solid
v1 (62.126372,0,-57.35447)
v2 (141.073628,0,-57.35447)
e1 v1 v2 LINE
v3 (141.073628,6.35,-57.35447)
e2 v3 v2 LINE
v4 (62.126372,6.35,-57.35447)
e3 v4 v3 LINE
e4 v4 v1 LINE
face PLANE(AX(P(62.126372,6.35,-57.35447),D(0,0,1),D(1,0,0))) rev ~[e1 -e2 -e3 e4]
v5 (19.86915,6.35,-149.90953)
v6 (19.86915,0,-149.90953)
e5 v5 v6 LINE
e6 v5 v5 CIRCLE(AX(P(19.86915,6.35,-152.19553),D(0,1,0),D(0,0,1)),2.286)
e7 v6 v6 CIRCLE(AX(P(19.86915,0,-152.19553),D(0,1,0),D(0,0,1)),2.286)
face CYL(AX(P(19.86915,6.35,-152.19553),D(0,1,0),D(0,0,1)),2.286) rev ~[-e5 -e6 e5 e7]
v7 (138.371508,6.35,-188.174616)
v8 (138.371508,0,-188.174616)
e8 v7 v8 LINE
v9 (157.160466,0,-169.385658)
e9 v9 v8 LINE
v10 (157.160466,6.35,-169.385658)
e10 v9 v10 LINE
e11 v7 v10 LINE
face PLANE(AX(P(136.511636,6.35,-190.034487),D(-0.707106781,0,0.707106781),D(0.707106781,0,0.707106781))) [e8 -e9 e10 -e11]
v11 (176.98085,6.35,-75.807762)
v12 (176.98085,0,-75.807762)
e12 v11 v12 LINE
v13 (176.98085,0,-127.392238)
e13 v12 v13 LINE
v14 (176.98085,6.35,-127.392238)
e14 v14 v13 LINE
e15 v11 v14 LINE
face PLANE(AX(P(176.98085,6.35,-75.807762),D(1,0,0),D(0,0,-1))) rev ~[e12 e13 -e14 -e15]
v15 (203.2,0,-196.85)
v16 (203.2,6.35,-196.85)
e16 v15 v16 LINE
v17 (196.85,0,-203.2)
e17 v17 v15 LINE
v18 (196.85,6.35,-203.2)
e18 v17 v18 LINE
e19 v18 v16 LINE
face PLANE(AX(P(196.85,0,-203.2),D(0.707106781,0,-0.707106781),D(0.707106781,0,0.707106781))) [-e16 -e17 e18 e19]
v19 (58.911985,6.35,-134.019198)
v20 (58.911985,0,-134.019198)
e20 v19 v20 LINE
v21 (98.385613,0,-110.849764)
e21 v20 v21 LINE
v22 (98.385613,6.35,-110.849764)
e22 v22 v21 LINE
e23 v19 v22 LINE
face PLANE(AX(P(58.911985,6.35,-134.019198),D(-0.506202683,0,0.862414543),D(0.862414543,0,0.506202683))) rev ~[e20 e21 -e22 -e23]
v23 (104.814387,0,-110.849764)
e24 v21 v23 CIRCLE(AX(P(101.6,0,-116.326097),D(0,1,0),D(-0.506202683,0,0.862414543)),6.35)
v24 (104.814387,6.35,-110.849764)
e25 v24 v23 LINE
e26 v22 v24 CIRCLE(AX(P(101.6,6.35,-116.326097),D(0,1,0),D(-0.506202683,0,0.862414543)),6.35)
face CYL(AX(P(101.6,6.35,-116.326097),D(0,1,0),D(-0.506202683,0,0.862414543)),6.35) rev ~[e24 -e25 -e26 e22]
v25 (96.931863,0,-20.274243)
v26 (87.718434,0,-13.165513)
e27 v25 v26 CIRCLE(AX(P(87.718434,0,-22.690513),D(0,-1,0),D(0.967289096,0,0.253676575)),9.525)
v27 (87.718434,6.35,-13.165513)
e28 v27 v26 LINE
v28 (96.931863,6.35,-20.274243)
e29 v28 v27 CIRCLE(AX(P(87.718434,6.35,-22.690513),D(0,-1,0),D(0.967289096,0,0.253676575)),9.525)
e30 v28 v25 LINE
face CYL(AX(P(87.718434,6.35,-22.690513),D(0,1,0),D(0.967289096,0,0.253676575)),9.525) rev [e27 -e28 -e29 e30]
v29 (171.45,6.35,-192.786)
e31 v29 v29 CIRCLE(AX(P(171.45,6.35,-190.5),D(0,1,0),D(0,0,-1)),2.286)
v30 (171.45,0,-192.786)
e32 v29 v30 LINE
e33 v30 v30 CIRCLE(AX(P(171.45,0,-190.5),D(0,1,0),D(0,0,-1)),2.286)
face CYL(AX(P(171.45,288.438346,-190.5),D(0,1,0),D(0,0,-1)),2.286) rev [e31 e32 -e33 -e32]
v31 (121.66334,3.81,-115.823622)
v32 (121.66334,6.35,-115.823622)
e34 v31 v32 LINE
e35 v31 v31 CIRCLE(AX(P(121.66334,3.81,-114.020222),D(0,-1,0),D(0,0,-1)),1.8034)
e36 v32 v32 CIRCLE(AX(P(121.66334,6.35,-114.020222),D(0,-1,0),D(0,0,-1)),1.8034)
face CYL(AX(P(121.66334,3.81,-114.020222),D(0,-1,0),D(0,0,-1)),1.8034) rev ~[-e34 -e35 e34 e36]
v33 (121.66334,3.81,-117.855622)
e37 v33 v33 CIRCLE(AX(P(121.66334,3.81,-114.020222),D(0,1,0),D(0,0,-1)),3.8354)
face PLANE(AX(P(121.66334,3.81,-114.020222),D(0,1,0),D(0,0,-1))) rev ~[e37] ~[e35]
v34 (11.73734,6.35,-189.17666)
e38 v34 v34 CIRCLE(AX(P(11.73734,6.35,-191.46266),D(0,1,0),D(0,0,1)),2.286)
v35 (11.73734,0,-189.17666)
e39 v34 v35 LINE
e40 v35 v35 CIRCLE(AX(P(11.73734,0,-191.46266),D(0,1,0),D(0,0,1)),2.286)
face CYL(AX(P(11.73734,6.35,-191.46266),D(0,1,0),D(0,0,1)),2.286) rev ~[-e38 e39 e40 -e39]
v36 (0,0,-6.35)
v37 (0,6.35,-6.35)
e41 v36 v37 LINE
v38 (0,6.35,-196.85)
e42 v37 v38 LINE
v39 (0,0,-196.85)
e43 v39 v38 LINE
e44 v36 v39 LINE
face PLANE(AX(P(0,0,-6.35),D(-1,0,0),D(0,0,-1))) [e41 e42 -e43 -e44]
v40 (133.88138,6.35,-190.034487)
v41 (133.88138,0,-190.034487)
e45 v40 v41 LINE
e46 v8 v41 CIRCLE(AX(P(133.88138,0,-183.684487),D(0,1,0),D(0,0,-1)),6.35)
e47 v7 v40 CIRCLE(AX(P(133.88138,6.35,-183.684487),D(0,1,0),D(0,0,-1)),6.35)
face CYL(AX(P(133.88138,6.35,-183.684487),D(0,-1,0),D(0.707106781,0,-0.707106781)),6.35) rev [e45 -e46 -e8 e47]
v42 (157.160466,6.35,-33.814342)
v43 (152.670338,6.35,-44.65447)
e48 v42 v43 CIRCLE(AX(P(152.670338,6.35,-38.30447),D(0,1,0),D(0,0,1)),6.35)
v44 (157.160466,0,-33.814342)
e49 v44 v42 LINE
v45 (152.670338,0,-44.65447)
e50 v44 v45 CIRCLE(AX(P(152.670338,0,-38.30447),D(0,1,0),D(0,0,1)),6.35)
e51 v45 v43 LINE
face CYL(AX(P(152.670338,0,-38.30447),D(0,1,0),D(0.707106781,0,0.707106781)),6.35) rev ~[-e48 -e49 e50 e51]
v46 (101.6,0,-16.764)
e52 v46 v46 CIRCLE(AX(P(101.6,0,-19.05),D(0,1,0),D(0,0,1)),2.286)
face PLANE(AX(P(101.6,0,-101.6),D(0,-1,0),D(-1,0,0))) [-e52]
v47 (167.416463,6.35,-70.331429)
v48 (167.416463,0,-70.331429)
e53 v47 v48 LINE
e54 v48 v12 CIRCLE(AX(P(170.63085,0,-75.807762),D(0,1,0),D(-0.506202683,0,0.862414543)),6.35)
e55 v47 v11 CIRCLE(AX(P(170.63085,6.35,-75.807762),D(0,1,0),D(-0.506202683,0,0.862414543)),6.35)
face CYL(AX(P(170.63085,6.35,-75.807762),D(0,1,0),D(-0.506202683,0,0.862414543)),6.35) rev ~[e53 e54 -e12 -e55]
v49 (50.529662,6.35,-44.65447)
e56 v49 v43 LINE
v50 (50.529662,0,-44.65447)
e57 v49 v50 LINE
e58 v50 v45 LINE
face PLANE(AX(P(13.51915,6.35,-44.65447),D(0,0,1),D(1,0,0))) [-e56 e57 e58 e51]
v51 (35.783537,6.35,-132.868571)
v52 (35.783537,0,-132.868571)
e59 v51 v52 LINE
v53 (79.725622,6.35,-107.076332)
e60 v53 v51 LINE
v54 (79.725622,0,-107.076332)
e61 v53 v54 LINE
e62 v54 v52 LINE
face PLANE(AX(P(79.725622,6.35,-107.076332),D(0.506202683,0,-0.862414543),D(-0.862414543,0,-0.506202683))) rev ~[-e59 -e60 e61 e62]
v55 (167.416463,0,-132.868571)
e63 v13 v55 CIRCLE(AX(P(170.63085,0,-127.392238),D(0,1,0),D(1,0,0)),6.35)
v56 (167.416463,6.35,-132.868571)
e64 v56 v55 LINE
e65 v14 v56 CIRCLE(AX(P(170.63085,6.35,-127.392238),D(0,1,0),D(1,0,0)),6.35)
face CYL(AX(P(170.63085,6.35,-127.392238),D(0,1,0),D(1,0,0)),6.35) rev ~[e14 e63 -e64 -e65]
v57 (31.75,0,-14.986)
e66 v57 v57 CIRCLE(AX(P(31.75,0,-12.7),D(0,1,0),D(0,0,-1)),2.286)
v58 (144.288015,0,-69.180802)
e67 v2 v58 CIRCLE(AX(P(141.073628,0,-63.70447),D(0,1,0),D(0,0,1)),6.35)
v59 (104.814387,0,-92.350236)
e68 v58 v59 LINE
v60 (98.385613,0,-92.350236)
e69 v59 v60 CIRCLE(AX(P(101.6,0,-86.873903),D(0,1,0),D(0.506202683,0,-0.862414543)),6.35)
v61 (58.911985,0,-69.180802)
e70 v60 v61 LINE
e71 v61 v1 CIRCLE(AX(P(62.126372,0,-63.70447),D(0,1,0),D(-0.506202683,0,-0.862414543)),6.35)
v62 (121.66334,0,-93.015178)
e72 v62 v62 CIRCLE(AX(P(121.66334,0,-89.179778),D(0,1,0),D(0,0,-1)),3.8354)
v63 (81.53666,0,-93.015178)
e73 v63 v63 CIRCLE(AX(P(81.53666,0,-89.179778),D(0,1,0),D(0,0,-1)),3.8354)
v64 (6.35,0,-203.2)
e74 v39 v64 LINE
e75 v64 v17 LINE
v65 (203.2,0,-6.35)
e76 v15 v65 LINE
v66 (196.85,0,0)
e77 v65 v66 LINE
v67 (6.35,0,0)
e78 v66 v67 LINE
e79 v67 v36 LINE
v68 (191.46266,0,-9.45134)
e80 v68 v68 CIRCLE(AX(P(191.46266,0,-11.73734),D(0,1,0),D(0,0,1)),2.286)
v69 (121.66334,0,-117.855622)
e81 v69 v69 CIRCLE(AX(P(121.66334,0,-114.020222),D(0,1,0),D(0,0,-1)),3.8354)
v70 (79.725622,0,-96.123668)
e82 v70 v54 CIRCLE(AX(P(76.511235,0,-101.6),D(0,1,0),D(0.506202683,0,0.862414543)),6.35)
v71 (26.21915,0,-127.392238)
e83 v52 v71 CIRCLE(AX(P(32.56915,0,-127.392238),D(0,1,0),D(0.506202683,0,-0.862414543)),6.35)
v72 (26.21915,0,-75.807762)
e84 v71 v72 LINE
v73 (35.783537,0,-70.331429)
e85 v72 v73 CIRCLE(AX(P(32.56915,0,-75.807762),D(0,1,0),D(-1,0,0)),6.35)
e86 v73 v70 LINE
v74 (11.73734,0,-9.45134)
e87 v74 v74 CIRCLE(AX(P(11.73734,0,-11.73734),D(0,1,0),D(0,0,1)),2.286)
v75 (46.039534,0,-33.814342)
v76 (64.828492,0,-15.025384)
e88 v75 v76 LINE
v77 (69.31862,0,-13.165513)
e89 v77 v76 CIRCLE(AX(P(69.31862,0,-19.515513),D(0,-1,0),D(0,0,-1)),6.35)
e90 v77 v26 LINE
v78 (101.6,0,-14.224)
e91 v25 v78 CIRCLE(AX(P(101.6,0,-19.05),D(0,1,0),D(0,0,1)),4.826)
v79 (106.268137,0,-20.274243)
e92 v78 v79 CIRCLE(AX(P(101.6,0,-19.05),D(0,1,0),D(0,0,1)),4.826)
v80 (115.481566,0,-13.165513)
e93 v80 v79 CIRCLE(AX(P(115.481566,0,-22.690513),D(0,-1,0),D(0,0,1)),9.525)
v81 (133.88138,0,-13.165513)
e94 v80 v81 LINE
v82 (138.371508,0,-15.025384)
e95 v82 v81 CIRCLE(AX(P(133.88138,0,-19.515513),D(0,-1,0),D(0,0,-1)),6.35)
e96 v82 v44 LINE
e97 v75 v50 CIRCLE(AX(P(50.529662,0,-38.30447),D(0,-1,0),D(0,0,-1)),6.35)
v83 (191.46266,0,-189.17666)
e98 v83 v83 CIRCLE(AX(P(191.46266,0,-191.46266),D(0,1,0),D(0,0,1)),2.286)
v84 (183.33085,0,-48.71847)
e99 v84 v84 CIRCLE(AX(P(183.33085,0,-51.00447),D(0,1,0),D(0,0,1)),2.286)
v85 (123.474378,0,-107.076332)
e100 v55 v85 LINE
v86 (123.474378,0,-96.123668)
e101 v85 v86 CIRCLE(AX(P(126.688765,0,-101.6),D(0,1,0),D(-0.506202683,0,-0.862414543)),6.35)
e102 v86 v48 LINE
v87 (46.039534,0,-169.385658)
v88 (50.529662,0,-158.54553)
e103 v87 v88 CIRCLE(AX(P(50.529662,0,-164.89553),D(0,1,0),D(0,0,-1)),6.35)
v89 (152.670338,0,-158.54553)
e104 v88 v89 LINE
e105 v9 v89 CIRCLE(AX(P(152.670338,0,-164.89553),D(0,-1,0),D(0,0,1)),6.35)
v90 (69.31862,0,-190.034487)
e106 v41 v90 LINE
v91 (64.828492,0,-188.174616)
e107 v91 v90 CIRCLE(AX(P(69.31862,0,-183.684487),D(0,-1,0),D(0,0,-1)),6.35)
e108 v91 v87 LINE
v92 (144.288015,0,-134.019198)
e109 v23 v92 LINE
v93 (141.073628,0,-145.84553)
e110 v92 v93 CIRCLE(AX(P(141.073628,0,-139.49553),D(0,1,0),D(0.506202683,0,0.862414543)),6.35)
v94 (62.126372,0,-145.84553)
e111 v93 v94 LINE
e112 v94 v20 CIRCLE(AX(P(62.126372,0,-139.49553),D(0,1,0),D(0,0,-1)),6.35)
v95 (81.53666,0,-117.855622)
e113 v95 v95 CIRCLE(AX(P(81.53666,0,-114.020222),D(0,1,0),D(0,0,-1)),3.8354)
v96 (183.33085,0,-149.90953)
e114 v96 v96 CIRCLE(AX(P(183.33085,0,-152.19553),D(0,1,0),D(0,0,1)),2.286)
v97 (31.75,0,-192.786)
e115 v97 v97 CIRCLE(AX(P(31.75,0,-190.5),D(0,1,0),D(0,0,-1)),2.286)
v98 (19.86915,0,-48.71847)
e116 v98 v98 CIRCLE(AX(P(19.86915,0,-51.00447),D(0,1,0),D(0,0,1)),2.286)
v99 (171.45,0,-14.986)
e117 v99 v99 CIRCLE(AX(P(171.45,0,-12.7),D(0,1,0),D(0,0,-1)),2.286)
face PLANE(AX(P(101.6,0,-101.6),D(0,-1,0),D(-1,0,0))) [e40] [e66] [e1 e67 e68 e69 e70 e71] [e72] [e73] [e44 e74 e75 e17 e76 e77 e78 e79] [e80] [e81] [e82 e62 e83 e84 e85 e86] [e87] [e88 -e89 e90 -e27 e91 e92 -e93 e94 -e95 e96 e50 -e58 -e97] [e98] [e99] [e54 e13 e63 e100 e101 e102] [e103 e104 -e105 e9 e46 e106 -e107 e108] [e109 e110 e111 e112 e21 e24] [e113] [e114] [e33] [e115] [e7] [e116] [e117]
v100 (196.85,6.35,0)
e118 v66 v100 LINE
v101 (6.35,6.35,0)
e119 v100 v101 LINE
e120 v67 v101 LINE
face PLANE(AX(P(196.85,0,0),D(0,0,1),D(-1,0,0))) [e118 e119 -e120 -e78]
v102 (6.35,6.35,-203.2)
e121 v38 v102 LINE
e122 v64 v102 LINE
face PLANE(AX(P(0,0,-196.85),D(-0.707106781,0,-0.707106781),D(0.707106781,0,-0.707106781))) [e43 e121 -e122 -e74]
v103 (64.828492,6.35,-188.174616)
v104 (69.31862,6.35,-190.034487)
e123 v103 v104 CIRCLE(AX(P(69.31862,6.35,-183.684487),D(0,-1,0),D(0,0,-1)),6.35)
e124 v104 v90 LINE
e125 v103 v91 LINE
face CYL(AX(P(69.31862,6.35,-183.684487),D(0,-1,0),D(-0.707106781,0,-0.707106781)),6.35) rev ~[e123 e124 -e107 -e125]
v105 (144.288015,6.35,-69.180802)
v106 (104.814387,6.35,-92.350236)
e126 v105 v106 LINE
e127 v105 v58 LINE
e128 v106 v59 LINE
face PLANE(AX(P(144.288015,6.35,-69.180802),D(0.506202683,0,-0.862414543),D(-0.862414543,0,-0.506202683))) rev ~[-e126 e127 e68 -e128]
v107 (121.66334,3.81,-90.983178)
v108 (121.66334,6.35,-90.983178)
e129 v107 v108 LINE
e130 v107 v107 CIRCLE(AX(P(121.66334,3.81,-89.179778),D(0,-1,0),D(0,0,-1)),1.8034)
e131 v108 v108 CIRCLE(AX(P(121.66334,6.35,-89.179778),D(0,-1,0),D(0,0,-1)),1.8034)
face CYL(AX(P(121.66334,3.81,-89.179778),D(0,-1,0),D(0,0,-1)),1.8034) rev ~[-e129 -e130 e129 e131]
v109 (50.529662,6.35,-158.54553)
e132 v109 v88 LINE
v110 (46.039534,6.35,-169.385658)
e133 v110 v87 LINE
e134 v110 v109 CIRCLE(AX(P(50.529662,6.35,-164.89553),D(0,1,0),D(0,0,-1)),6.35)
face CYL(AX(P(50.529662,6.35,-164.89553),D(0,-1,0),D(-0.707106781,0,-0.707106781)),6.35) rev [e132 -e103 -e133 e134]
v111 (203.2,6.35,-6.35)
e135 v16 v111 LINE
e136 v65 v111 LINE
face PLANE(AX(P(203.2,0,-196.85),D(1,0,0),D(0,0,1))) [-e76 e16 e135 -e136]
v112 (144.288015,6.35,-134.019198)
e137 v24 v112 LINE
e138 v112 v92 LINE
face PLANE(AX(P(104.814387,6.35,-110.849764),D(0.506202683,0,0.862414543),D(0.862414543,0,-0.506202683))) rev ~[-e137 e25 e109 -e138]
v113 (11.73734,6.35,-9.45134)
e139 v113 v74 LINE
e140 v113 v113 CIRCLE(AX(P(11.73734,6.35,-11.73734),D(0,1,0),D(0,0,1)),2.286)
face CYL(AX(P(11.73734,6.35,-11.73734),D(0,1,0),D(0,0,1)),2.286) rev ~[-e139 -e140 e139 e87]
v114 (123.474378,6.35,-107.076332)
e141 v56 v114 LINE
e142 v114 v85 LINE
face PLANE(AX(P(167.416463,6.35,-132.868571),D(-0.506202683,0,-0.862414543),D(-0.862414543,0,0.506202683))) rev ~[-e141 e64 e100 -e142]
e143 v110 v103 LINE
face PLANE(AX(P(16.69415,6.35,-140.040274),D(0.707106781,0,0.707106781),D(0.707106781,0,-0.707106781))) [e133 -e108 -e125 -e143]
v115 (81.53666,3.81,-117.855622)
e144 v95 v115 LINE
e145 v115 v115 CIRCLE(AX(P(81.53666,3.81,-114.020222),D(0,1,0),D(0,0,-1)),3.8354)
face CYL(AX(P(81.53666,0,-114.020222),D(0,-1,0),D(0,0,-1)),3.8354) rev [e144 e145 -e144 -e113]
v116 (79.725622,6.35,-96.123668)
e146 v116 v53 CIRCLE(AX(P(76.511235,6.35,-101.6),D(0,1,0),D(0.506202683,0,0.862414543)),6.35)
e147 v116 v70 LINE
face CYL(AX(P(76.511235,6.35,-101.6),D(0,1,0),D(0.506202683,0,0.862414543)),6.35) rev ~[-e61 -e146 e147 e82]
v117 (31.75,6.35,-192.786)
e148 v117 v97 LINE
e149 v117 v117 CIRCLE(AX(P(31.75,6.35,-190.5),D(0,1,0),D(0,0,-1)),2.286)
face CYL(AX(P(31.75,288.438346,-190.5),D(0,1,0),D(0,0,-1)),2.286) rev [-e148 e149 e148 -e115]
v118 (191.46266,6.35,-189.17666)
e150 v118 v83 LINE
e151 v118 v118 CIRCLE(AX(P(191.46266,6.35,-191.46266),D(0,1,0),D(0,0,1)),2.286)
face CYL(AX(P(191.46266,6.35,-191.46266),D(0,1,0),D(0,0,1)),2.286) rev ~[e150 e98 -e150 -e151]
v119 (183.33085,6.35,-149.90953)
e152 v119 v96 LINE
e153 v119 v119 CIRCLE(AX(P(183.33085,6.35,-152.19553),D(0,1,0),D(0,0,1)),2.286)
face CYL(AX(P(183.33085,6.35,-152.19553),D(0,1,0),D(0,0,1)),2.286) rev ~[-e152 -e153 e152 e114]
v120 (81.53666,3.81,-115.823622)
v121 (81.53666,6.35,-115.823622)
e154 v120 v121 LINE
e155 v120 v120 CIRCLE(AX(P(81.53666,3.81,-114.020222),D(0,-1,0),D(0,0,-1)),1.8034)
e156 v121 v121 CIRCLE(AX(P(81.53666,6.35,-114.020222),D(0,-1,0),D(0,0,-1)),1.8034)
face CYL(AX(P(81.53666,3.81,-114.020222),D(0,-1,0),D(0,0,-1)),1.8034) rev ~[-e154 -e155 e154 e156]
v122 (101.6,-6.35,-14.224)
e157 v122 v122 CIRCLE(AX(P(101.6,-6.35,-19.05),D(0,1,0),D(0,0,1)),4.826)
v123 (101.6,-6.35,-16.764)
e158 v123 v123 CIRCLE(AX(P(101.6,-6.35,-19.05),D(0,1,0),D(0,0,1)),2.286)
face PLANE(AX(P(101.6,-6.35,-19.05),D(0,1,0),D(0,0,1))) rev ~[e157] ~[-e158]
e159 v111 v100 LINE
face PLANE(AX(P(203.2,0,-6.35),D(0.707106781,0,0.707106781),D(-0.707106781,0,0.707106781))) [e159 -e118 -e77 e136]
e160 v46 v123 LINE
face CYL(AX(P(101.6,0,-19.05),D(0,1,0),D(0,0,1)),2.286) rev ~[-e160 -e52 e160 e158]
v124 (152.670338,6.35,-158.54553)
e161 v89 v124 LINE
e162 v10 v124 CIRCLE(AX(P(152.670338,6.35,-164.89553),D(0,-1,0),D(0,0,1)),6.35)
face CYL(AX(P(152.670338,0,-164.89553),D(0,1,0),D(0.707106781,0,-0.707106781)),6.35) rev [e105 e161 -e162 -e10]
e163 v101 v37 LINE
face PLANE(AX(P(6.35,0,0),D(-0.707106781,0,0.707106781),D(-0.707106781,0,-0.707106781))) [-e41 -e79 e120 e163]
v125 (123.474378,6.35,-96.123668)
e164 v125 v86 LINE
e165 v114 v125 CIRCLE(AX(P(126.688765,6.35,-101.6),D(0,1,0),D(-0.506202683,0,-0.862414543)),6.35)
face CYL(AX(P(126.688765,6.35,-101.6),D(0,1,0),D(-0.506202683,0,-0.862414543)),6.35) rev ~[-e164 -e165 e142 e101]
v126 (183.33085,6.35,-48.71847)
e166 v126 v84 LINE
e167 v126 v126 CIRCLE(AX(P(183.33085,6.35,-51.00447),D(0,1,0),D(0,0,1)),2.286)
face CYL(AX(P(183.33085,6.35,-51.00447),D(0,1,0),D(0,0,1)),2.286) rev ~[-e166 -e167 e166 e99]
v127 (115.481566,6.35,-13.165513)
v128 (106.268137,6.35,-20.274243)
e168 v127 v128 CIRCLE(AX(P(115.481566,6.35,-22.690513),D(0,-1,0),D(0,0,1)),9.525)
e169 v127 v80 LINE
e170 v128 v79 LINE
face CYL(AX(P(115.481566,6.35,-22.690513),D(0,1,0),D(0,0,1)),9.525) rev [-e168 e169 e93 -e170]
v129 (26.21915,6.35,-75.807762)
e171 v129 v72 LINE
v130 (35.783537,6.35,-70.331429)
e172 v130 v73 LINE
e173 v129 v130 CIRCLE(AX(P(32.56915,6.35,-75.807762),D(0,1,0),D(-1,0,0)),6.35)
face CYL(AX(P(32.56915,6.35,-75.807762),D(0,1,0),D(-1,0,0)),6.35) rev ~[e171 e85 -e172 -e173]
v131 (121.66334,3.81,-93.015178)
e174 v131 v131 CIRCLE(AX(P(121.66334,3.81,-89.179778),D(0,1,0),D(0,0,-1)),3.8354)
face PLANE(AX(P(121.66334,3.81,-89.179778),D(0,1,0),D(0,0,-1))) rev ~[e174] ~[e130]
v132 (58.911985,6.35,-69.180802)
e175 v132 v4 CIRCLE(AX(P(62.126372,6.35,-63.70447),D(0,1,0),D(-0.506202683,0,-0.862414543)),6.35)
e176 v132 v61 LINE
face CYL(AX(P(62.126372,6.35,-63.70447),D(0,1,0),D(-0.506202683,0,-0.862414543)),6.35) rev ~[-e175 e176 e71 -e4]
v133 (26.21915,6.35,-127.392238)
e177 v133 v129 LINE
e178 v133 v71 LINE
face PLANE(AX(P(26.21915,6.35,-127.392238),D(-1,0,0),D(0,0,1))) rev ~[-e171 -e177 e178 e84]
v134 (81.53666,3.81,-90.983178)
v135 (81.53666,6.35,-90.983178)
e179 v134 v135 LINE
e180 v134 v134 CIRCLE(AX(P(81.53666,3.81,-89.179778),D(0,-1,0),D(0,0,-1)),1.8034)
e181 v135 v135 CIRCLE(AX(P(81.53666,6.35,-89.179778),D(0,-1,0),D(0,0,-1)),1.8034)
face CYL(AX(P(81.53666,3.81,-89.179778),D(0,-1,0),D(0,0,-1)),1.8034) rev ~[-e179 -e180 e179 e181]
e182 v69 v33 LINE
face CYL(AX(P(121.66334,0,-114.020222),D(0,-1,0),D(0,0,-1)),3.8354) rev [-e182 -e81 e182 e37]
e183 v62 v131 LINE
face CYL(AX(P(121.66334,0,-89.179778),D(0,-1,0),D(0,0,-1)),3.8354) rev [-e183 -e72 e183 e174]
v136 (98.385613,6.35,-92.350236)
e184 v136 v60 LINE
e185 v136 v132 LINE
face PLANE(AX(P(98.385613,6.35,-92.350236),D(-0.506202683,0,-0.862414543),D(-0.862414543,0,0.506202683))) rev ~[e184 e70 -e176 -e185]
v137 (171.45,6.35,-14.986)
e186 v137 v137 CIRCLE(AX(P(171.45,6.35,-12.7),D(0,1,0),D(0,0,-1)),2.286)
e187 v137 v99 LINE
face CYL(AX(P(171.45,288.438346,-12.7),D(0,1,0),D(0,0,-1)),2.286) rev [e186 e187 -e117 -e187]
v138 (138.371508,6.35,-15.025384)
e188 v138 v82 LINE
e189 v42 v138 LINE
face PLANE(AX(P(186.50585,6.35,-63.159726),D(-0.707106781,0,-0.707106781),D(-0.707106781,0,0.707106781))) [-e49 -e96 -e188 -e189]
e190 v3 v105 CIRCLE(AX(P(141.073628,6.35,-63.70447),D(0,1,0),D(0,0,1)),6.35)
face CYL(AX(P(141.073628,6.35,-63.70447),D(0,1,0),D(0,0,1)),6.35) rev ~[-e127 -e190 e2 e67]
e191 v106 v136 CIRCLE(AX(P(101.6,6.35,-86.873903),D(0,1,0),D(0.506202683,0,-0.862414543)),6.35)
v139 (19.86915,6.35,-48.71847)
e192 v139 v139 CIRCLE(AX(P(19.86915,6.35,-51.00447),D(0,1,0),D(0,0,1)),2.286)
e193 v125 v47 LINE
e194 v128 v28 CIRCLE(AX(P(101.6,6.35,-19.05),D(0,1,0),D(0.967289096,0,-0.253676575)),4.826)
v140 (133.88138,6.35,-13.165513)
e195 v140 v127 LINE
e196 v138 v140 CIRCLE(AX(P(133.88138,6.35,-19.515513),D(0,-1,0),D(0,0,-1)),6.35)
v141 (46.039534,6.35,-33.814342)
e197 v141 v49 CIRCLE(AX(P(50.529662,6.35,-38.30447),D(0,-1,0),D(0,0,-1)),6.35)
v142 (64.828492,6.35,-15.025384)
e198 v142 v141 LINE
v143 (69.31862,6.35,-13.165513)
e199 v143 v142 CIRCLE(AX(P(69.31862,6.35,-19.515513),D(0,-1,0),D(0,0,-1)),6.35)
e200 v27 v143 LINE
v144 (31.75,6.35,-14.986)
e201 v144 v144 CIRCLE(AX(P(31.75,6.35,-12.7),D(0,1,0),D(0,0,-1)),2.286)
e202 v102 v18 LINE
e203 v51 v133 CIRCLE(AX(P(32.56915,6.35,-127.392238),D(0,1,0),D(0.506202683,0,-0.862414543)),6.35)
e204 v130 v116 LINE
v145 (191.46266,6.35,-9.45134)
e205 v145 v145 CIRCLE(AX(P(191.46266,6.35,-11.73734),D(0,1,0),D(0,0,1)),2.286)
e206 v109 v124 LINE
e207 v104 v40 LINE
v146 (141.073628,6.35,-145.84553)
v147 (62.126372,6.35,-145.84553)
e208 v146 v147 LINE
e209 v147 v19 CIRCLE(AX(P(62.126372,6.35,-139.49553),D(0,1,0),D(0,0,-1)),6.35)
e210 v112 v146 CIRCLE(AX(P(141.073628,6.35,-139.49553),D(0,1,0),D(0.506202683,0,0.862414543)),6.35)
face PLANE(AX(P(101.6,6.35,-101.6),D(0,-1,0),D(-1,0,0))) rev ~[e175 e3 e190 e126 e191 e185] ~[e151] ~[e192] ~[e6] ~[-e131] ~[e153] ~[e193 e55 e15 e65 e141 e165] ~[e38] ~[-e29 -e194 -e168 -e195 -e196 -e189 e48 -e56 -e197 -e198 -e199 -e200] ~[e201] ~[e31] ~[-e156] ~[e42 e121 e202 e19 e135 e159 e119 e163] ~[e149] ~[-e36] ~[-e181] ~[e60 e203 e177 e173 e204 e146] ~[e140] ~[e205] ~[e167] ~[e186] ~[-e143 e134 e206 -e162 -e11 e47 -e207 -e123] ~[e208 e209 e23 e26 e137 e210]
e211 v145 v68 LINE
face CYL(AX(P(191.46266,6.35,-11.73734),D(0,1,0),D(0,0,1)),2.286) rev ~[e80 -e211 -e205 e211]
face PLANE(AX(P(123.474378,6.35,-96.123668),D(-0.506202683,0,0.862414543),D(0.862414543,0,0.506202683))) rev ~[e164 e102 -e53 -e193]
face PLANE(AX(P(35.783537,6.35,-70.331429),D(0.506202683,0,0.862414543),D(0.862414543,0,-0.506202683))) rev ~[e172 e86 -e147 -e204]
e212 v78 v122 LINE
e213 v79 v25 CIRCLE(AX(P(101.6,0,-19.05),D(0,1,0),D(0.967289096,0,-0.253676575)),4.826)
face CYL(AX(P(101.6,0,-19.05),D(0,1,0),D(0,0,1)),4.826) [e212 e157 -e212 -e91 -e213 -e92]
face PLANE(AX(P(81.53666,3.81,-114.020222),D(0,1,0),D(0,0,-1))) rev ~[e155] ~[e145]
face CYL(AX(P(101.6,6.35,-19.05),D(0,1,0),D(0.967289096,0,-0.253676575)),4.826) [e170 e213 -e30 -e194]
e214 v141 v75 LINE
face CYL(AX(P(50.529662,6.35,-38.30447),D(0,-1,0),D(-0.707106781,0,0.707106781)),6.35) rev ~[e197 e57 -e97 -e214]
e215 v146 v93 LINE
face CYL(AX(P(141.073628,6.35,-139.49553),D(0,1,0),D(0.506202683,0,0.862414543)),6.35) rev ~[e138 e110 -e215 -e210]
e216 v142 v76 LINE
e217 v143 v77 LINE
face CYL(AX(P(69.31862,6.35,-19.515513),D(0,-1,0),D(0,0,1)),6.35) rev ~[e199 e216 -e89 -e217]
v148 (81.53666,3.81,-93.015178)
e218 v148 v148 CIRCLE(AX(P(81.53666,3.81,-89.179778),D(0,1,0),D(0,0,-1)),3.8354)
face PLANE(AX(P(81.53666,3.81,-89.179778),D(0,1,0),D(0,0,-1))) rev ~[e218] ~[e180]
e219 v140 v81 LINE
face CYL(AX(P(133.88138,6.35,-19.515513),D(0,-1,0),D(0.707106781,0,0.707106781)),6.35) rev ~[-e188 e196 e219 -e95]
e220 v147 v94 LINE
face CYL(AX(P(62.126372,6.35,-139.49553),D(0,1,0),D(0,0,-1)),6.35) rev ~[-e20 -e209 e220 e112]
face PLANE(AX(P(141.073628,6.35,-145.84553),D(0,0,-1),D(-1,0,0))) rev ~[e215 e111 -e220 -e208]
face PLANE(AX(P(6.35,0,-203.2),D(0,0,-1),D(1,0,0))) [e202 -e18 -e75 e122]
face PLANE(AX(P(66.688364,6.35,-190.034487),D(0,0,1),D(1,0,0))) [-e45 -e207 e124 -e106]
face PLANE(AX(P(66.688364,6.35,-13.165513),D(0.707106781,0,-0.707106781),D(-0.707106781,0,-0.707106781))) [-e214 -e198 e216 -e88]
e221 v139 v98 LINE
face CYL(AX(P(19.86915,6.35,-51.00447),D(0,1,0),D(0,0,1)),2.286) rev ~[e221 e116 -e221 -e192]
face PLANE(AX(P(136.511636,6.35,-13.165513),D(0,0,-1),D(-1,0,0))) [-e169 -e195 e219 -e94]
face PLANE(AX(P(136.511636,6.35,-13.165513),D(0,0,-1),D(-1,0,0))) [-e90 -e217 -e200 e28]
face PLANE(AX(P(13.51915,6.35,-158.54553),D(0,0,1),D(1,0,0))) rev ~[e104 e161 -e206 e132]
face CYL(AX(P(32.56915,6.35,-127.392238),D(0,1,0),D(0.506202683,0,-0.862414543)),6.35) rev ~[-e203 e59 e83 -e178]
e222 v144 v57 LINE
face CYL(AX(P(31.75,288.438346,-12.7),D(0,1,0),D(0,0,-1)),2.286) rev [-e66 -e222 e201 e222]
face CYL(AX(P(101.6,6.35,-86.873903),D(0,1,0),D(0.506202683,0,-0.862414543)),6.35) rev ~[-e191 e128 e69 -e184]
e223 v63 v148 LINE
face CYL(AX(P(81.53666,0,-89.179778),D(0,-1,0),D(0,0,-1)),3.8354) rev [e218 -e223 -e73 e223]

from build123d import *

# Parameters (mm, degrees)
BOSS_EXTRUDE1_DEPTH     = 6.35
SKETCH3_R               = 2.286
CUT_EXTRUDE2_DEPTH      = 288.438345563
SKETCH4_R               = 2.286
CUT_EXTRUDE3_DEPTH      = 288.438345563
SKETCH5_W               = 176.1617
SKETCH5_H               = 113.89106
SKETCH5_R               = 2.286
BOSS_EXTRUDE2_DEPTH     = 6.35
FILLET1_R               = 6.35
BOSS_EXTRUDE3_DEPTH     = 6.35
SKETCH8_R               = 4.826
SKETCH8_R_2             = 2.286
BOSS_EXTRUDE4_DEPTH     = 6.35
SKETCH9_R               = 3.8354
CUT_EXTRUDE4_DEPTH      = 3.81
SKETCH10_R              = 1.8034
CUT_EXTRUDE5_DEPTH      = 288.547744905
CUT_EXTRUDE6_DEPTH      = 288.438345563
CUT_EXTRUDE6_DEPTH_BACK = 288.438345563
SKETCH11_R              = 2.286


with BuildPart() as part:
    # Sketch1 → Boss-Extrude1 (new body)
    with BuildSketch(Plane(origin=(0, 0, 0), x_dir=(1, 0, 0), z_dir=(0, 1, 0))):
        Polygon((0, 196.85), (6.35, 203.2), (196.85, 203.2), (203.2, 196.85), (203.2, 6.35), (196.85, 0), (6.35, 0), (0, 6.35), align=None)
    extrude(amount=BOSS_EXTRUDE1_DEPTH)

    # Sketch3 → Cut-Extrude2 (cut, through all)
    with BuildSketch(Plane(origin=(0, 6.35, 0), x_dir=(1, 0, 0), z_dir=(0, 1, 0))):
        with Locations(Location((11.73734, 11.73734, 0), (0, 0, 270))):
            Circle(SKETCH3_R)
        with Locations(Location((191.46266, 11.73734, 0), (0, 0, 270))):
            Circle(SKETCH3_R)
        with Locations(Location((191.46266, 191.46266, 0), (0, 0, 270))):
            Circle(SKETCH3_R)
        with Locations(Location((11.73734, 191.46266, 0), (0, 0, 270))):
            Circle(SKETCH3_R)
    extrude(amount=-CUT_EXTRUDE2_DEPTH, mode=Mode.SUBTRACT)

    # Sketch4 → Cut-Extrude3 (cut, through all)
    with BuildSketch(Plane(origin=(0, 6.35, 0), x_dir=(1, 0, 0), z_dir=(0, 1, 0))):
        with Locations(Location((19.86915, 152.19553, 0), (0, 0, 270))):
            Circle(SKETCH4_R)
        with Locations(Location((183.33085, 152.19553, 0), (0, 0, 270))):
            Circle(SKETCH4_R)
        with Locations(Location((183.33085, 51.00447, 0), (0, 0, 270))):
            Circle(SKETCH4_R)
        with Locations(Location((19.86915, 51.00447, 0), (0, 0, 270))):
            Circle(SKETCH4_R)
        Polygon((16.69415, 140.040273879), (66.688363593, 190.034487472), (136.511636407, 190.034487472), (186.50585, 140.040273879), (186.50585, 63.159726121), (136.511636407, 13.165512528), (66.688363593, 13.165512528), (16.69415, 63.159726121), align=None)
    extrude(amount=-CUT_EXTRUDE3_DEPTH, mode=Mode.SUBTRACT)

    # Sketch5 → Boss-Extrude2 (add)
    with BuildSketch(Plane(origin=(0, 6.35, 0), x_dir=(1, 0, 0), z_dir=(0, 1, 0))):
        with Locations((101.6, 101.6)):
            Rectangle(SKETCH5_W, SKETCH5_H)
        with Locations(Location((183.33085, 51.00447, 0), (0, 0, 270))):
            Circle(SKETCH5_R, mode=Mode.SUBTRACT)
        with Locations(Location((183.33085, 152.19553, 0), (0, 0, 270))):
            Circle(SKETCH5_R, mode=Mode.SUBTRACT)
        with Locations(Location((19.86915, 152.19553, 0), (0, 0, 270))):
            Circle(SKETCH5_R, mode=Mode.SUBTRACT)
        with Locations(Location((19.86915, 51.00447, 0), (0, 0, 270))):
            Circle(SKETCH5_R, mode=Mode.SUBTRACT)
        with BuildLine():
            Line((141.073627551, 145.84553), (62.126372449, 145.84553))
            ThreePointArc((62.126372449, 145.84553), (55.998680779, 141.161031366), (58.911985411, 134.019197653))
            Line((58.911985411, 134.019197653), (98.385612962, 110.849764408))
            ThreePointArc((98.385612962, 110.849764408), (101.6, 109.976096755), (104.814387038, 110.849764408))
            Line((104.814387038, 110.849764408), (144.288014589, 134.019197653))
            ThreePointArc((144.288014589, 134.019197653), (147.201319221, 141.161031366), (141.073627551, 145.84553))
        make_face(mode=Mode.SUBTRACT)
        with BuildLine():
            Line((26.21915, 127.3922384), (26.21915, 75.8077616))
            ThreePointArc((26.21915, 75.8077616), (29.413904977, 70.297141957), (35.783537038, 70.331429253))
            Line((35.783537038, 70.331429253), (79.725622352, 96.123667653))
            ThreePointArc((79.725622352, 96.123667653), (82.861235314, 101.6), (79.725622352, 107.076332347))
            Line((79.725622352, 107.076332347), (35.783537038, 132.868570747))
            ThreePointArc((35.783537038, 132.868570747), (29.413904977, 132.902858043), (26.21915, 127.3922384))
        make_face(mode=Mode.SUBTRACT)
        with BuildLine():
            Line((62.126372449, 57.35447), (141.073627551, 57.35447))
            ThreePointArc((141.073627551, 57.35447), (147.201319221, 62.038968634), (144.288014589, 69.180802347))
            Line((144.288014589, 69.180802347), (104.814387038, 92.350235592))
            ThreePointArc((104.814387038, 92.350235592), (101.6, 93.223903245), (98.385612962, 92.350235592))
            Line((98.385612962, 92.350235592), (58.911985411, 69.180802347))
            ThreePointArc((58.911985411, 69.180802347), (55.998680779, 62.038968634), (62.126372449, 57.35447))
        make_face(mode=Mode.SUBTRACT)
        with BuildLine():
            Line((176.98085, 75.8077616), (176.98085, 127.3922384))
            ThreePointArc((176.98085, 127.3922384), (173.786095023, 132.902858043), (167.416462962, 132.868570747))
            Line((167.416462962, 132.868570747), (123.474377648, 107.076332347))
            ThreePointArc((123.474377648, 107.076332347), (120.338764686, 101.6), (123.474377648, 96.123667653))
            Line((123.474377648, 96.123667653), (167.416462962, 70.331429253))
            ThreePointArc((167.416462962, 70.331429253), (173.786095023, 70.297141957), (176.98085, 75.8077616))
        make_face(mode=Mode.SUBTRACT)
    extrude(amount=-BOSS_EXTRUDE2_DEPTH)

    # Fillet1
    fillet1_edges = [part.edges().sort_by_distance(p)[0] for p in [
        (66.688363593, 3.175, -190.034487472),
        (136.511636407, 3.175, -190.034487472),
        (136.511636407, 3.175, -13.165512528),
        (66.688363593, 3.175, -13.165512528),
        (35.199406121, 3.175, -44.65447),
        (168.000593879, 3.175, -158.54553),
        (35.199406121, 3.175, -158.54553),
        (168.000593879, 3.175, -44.65447),
    ]]
    fillet(fillet1_edges, radius=FILLET1_R)

    # Sketch6 → Boss-Extrude3 (add)
    with BuildSketch(Plane(origin=(0, 6.35, 0), x_dir=(1, 0, 0), z_dir=(0, 1, 0))):
        with BuildLine():
            Line((87.718434183, 13.165512528), (115.481565817, 13.165512528))
            ThreePointArc((115.481565817, 13.165512528), (109.663032532, 15.149272881), (106.268137177, 20.274243151))
            ThreePointArc((106.268137177, 20.274243151), (101.6, 23.876), (96.931862823, 20.274243151))
            ThreePointArc((96.931862823, 20.274243151), (93.536967468, 15.149272881), (87.718434183, 13.165512528))
        make_face()
    extrude(amount=-BOSS_EXTRUDE3_DEPTH)

    # Sketch8 → Boss-Extrude4 (add)
    with BuildSketch(Plane(origin=(0, 0, 0), x_dir=(1, 0, 0), z_dir=(0, 1, 0))):
        with Locations(Location((101.6, 19.05, 0), (0, 0, 270))):
            Circle(SKETCH8_R)
        with Locations(Location((101.6, 19.05, 0), (0, 0, 270))):
            Circle(SKETCH8_R_2, mode=Mode.SUBTRACT)
    extrude(amount=-BOSS_EXTRUDE4_DEPTH)

    # Sketch9 → Cut-Extrude4 (cut)
    with BuildSketch(Plane(origin=(0, 0, 0), x_dir=(1, 0, 0), z_dir=(0, 1, 0))):
        with Locations(Location((81.536660016, 114.02022223, 0), (0, 0, 90))):
            Circle(SKETCH9_R)
        with Locations(Location((121.663339984, 114.02022223, 0), (0, 0, 90))):
            Circle(SKETCH9_R)
        with Locations(Location((121.663339984, 89.17977777, 0), (0, 0, 90))):
            Circle(SKETCH9_R)
        with Locations(Location((81.536660016, 89.17977777, 0), (0, 0, 90))):
            Circle(SKETCH9_R)
    extrude(amount=CUT_EXTRUDE4_DEPTH, mode=Mode.SUBTRACT)

    # Sketch10 → Cut-Extrude5 (cut, through all)
    with BuildSketch(Plane(origin=(0, 3.81, 0), x_dir=(-1, 0, 0), z_dir=(0, -1, 0))):
        with Locations(Location((-81.536660016, 114.02022223, 0), (0, 0, 90))):
            Circle(SKETCH10_R)
        with Locations(Location((-121.663339984, 114.02022223, 0), (0, 0, 90))):
            Circle(SKETCH10_R)
        with Locations(Location((-121.663339984, 89.17977777, 0), (0, 0, 90))):
            Circle(SKETCH10_R)
        with Locations(Location((-81.536660016, 89.17977777, 0), (0, 0, 90))):
            Circle(SKETCH10_R)
    extrude(amount=-CUT_EXTRUDE5_DEPTH, mode=Mode.SUBTRACT)

    # Sketch11 → Cut-Extrude6 (cut, two sides: drawn at the far end of the back side and taken through both)
    with BuildSketch(Plane.XZ.offset(-CUT_EXTRUDE6_DEPTH_BACK)):
        with Locations(Location((31.75, -12.7, 0), (0, 0, 270))):
            Circle(SKETCH11_R)
        with Locations(Location((171.45, -12.7, 0), (0, 0, 270))):
            Circle(SKETCH11_R)
        with Locations(Location((171.45, -190.5, 0), (0, 0, 270))):
            Circle(SKETCH11_R)
        with Locations(Location((31.75, -190.5, 0), (0, 0, 270))):
            Circle(SKETCH11_R)
    extrude(amount=CUT_EXTRUDE6_DEPTH + CUT_EXTRUDE6_DEPTH_BACK, mode=Mode.SUBTRACT)


solid = part.part
